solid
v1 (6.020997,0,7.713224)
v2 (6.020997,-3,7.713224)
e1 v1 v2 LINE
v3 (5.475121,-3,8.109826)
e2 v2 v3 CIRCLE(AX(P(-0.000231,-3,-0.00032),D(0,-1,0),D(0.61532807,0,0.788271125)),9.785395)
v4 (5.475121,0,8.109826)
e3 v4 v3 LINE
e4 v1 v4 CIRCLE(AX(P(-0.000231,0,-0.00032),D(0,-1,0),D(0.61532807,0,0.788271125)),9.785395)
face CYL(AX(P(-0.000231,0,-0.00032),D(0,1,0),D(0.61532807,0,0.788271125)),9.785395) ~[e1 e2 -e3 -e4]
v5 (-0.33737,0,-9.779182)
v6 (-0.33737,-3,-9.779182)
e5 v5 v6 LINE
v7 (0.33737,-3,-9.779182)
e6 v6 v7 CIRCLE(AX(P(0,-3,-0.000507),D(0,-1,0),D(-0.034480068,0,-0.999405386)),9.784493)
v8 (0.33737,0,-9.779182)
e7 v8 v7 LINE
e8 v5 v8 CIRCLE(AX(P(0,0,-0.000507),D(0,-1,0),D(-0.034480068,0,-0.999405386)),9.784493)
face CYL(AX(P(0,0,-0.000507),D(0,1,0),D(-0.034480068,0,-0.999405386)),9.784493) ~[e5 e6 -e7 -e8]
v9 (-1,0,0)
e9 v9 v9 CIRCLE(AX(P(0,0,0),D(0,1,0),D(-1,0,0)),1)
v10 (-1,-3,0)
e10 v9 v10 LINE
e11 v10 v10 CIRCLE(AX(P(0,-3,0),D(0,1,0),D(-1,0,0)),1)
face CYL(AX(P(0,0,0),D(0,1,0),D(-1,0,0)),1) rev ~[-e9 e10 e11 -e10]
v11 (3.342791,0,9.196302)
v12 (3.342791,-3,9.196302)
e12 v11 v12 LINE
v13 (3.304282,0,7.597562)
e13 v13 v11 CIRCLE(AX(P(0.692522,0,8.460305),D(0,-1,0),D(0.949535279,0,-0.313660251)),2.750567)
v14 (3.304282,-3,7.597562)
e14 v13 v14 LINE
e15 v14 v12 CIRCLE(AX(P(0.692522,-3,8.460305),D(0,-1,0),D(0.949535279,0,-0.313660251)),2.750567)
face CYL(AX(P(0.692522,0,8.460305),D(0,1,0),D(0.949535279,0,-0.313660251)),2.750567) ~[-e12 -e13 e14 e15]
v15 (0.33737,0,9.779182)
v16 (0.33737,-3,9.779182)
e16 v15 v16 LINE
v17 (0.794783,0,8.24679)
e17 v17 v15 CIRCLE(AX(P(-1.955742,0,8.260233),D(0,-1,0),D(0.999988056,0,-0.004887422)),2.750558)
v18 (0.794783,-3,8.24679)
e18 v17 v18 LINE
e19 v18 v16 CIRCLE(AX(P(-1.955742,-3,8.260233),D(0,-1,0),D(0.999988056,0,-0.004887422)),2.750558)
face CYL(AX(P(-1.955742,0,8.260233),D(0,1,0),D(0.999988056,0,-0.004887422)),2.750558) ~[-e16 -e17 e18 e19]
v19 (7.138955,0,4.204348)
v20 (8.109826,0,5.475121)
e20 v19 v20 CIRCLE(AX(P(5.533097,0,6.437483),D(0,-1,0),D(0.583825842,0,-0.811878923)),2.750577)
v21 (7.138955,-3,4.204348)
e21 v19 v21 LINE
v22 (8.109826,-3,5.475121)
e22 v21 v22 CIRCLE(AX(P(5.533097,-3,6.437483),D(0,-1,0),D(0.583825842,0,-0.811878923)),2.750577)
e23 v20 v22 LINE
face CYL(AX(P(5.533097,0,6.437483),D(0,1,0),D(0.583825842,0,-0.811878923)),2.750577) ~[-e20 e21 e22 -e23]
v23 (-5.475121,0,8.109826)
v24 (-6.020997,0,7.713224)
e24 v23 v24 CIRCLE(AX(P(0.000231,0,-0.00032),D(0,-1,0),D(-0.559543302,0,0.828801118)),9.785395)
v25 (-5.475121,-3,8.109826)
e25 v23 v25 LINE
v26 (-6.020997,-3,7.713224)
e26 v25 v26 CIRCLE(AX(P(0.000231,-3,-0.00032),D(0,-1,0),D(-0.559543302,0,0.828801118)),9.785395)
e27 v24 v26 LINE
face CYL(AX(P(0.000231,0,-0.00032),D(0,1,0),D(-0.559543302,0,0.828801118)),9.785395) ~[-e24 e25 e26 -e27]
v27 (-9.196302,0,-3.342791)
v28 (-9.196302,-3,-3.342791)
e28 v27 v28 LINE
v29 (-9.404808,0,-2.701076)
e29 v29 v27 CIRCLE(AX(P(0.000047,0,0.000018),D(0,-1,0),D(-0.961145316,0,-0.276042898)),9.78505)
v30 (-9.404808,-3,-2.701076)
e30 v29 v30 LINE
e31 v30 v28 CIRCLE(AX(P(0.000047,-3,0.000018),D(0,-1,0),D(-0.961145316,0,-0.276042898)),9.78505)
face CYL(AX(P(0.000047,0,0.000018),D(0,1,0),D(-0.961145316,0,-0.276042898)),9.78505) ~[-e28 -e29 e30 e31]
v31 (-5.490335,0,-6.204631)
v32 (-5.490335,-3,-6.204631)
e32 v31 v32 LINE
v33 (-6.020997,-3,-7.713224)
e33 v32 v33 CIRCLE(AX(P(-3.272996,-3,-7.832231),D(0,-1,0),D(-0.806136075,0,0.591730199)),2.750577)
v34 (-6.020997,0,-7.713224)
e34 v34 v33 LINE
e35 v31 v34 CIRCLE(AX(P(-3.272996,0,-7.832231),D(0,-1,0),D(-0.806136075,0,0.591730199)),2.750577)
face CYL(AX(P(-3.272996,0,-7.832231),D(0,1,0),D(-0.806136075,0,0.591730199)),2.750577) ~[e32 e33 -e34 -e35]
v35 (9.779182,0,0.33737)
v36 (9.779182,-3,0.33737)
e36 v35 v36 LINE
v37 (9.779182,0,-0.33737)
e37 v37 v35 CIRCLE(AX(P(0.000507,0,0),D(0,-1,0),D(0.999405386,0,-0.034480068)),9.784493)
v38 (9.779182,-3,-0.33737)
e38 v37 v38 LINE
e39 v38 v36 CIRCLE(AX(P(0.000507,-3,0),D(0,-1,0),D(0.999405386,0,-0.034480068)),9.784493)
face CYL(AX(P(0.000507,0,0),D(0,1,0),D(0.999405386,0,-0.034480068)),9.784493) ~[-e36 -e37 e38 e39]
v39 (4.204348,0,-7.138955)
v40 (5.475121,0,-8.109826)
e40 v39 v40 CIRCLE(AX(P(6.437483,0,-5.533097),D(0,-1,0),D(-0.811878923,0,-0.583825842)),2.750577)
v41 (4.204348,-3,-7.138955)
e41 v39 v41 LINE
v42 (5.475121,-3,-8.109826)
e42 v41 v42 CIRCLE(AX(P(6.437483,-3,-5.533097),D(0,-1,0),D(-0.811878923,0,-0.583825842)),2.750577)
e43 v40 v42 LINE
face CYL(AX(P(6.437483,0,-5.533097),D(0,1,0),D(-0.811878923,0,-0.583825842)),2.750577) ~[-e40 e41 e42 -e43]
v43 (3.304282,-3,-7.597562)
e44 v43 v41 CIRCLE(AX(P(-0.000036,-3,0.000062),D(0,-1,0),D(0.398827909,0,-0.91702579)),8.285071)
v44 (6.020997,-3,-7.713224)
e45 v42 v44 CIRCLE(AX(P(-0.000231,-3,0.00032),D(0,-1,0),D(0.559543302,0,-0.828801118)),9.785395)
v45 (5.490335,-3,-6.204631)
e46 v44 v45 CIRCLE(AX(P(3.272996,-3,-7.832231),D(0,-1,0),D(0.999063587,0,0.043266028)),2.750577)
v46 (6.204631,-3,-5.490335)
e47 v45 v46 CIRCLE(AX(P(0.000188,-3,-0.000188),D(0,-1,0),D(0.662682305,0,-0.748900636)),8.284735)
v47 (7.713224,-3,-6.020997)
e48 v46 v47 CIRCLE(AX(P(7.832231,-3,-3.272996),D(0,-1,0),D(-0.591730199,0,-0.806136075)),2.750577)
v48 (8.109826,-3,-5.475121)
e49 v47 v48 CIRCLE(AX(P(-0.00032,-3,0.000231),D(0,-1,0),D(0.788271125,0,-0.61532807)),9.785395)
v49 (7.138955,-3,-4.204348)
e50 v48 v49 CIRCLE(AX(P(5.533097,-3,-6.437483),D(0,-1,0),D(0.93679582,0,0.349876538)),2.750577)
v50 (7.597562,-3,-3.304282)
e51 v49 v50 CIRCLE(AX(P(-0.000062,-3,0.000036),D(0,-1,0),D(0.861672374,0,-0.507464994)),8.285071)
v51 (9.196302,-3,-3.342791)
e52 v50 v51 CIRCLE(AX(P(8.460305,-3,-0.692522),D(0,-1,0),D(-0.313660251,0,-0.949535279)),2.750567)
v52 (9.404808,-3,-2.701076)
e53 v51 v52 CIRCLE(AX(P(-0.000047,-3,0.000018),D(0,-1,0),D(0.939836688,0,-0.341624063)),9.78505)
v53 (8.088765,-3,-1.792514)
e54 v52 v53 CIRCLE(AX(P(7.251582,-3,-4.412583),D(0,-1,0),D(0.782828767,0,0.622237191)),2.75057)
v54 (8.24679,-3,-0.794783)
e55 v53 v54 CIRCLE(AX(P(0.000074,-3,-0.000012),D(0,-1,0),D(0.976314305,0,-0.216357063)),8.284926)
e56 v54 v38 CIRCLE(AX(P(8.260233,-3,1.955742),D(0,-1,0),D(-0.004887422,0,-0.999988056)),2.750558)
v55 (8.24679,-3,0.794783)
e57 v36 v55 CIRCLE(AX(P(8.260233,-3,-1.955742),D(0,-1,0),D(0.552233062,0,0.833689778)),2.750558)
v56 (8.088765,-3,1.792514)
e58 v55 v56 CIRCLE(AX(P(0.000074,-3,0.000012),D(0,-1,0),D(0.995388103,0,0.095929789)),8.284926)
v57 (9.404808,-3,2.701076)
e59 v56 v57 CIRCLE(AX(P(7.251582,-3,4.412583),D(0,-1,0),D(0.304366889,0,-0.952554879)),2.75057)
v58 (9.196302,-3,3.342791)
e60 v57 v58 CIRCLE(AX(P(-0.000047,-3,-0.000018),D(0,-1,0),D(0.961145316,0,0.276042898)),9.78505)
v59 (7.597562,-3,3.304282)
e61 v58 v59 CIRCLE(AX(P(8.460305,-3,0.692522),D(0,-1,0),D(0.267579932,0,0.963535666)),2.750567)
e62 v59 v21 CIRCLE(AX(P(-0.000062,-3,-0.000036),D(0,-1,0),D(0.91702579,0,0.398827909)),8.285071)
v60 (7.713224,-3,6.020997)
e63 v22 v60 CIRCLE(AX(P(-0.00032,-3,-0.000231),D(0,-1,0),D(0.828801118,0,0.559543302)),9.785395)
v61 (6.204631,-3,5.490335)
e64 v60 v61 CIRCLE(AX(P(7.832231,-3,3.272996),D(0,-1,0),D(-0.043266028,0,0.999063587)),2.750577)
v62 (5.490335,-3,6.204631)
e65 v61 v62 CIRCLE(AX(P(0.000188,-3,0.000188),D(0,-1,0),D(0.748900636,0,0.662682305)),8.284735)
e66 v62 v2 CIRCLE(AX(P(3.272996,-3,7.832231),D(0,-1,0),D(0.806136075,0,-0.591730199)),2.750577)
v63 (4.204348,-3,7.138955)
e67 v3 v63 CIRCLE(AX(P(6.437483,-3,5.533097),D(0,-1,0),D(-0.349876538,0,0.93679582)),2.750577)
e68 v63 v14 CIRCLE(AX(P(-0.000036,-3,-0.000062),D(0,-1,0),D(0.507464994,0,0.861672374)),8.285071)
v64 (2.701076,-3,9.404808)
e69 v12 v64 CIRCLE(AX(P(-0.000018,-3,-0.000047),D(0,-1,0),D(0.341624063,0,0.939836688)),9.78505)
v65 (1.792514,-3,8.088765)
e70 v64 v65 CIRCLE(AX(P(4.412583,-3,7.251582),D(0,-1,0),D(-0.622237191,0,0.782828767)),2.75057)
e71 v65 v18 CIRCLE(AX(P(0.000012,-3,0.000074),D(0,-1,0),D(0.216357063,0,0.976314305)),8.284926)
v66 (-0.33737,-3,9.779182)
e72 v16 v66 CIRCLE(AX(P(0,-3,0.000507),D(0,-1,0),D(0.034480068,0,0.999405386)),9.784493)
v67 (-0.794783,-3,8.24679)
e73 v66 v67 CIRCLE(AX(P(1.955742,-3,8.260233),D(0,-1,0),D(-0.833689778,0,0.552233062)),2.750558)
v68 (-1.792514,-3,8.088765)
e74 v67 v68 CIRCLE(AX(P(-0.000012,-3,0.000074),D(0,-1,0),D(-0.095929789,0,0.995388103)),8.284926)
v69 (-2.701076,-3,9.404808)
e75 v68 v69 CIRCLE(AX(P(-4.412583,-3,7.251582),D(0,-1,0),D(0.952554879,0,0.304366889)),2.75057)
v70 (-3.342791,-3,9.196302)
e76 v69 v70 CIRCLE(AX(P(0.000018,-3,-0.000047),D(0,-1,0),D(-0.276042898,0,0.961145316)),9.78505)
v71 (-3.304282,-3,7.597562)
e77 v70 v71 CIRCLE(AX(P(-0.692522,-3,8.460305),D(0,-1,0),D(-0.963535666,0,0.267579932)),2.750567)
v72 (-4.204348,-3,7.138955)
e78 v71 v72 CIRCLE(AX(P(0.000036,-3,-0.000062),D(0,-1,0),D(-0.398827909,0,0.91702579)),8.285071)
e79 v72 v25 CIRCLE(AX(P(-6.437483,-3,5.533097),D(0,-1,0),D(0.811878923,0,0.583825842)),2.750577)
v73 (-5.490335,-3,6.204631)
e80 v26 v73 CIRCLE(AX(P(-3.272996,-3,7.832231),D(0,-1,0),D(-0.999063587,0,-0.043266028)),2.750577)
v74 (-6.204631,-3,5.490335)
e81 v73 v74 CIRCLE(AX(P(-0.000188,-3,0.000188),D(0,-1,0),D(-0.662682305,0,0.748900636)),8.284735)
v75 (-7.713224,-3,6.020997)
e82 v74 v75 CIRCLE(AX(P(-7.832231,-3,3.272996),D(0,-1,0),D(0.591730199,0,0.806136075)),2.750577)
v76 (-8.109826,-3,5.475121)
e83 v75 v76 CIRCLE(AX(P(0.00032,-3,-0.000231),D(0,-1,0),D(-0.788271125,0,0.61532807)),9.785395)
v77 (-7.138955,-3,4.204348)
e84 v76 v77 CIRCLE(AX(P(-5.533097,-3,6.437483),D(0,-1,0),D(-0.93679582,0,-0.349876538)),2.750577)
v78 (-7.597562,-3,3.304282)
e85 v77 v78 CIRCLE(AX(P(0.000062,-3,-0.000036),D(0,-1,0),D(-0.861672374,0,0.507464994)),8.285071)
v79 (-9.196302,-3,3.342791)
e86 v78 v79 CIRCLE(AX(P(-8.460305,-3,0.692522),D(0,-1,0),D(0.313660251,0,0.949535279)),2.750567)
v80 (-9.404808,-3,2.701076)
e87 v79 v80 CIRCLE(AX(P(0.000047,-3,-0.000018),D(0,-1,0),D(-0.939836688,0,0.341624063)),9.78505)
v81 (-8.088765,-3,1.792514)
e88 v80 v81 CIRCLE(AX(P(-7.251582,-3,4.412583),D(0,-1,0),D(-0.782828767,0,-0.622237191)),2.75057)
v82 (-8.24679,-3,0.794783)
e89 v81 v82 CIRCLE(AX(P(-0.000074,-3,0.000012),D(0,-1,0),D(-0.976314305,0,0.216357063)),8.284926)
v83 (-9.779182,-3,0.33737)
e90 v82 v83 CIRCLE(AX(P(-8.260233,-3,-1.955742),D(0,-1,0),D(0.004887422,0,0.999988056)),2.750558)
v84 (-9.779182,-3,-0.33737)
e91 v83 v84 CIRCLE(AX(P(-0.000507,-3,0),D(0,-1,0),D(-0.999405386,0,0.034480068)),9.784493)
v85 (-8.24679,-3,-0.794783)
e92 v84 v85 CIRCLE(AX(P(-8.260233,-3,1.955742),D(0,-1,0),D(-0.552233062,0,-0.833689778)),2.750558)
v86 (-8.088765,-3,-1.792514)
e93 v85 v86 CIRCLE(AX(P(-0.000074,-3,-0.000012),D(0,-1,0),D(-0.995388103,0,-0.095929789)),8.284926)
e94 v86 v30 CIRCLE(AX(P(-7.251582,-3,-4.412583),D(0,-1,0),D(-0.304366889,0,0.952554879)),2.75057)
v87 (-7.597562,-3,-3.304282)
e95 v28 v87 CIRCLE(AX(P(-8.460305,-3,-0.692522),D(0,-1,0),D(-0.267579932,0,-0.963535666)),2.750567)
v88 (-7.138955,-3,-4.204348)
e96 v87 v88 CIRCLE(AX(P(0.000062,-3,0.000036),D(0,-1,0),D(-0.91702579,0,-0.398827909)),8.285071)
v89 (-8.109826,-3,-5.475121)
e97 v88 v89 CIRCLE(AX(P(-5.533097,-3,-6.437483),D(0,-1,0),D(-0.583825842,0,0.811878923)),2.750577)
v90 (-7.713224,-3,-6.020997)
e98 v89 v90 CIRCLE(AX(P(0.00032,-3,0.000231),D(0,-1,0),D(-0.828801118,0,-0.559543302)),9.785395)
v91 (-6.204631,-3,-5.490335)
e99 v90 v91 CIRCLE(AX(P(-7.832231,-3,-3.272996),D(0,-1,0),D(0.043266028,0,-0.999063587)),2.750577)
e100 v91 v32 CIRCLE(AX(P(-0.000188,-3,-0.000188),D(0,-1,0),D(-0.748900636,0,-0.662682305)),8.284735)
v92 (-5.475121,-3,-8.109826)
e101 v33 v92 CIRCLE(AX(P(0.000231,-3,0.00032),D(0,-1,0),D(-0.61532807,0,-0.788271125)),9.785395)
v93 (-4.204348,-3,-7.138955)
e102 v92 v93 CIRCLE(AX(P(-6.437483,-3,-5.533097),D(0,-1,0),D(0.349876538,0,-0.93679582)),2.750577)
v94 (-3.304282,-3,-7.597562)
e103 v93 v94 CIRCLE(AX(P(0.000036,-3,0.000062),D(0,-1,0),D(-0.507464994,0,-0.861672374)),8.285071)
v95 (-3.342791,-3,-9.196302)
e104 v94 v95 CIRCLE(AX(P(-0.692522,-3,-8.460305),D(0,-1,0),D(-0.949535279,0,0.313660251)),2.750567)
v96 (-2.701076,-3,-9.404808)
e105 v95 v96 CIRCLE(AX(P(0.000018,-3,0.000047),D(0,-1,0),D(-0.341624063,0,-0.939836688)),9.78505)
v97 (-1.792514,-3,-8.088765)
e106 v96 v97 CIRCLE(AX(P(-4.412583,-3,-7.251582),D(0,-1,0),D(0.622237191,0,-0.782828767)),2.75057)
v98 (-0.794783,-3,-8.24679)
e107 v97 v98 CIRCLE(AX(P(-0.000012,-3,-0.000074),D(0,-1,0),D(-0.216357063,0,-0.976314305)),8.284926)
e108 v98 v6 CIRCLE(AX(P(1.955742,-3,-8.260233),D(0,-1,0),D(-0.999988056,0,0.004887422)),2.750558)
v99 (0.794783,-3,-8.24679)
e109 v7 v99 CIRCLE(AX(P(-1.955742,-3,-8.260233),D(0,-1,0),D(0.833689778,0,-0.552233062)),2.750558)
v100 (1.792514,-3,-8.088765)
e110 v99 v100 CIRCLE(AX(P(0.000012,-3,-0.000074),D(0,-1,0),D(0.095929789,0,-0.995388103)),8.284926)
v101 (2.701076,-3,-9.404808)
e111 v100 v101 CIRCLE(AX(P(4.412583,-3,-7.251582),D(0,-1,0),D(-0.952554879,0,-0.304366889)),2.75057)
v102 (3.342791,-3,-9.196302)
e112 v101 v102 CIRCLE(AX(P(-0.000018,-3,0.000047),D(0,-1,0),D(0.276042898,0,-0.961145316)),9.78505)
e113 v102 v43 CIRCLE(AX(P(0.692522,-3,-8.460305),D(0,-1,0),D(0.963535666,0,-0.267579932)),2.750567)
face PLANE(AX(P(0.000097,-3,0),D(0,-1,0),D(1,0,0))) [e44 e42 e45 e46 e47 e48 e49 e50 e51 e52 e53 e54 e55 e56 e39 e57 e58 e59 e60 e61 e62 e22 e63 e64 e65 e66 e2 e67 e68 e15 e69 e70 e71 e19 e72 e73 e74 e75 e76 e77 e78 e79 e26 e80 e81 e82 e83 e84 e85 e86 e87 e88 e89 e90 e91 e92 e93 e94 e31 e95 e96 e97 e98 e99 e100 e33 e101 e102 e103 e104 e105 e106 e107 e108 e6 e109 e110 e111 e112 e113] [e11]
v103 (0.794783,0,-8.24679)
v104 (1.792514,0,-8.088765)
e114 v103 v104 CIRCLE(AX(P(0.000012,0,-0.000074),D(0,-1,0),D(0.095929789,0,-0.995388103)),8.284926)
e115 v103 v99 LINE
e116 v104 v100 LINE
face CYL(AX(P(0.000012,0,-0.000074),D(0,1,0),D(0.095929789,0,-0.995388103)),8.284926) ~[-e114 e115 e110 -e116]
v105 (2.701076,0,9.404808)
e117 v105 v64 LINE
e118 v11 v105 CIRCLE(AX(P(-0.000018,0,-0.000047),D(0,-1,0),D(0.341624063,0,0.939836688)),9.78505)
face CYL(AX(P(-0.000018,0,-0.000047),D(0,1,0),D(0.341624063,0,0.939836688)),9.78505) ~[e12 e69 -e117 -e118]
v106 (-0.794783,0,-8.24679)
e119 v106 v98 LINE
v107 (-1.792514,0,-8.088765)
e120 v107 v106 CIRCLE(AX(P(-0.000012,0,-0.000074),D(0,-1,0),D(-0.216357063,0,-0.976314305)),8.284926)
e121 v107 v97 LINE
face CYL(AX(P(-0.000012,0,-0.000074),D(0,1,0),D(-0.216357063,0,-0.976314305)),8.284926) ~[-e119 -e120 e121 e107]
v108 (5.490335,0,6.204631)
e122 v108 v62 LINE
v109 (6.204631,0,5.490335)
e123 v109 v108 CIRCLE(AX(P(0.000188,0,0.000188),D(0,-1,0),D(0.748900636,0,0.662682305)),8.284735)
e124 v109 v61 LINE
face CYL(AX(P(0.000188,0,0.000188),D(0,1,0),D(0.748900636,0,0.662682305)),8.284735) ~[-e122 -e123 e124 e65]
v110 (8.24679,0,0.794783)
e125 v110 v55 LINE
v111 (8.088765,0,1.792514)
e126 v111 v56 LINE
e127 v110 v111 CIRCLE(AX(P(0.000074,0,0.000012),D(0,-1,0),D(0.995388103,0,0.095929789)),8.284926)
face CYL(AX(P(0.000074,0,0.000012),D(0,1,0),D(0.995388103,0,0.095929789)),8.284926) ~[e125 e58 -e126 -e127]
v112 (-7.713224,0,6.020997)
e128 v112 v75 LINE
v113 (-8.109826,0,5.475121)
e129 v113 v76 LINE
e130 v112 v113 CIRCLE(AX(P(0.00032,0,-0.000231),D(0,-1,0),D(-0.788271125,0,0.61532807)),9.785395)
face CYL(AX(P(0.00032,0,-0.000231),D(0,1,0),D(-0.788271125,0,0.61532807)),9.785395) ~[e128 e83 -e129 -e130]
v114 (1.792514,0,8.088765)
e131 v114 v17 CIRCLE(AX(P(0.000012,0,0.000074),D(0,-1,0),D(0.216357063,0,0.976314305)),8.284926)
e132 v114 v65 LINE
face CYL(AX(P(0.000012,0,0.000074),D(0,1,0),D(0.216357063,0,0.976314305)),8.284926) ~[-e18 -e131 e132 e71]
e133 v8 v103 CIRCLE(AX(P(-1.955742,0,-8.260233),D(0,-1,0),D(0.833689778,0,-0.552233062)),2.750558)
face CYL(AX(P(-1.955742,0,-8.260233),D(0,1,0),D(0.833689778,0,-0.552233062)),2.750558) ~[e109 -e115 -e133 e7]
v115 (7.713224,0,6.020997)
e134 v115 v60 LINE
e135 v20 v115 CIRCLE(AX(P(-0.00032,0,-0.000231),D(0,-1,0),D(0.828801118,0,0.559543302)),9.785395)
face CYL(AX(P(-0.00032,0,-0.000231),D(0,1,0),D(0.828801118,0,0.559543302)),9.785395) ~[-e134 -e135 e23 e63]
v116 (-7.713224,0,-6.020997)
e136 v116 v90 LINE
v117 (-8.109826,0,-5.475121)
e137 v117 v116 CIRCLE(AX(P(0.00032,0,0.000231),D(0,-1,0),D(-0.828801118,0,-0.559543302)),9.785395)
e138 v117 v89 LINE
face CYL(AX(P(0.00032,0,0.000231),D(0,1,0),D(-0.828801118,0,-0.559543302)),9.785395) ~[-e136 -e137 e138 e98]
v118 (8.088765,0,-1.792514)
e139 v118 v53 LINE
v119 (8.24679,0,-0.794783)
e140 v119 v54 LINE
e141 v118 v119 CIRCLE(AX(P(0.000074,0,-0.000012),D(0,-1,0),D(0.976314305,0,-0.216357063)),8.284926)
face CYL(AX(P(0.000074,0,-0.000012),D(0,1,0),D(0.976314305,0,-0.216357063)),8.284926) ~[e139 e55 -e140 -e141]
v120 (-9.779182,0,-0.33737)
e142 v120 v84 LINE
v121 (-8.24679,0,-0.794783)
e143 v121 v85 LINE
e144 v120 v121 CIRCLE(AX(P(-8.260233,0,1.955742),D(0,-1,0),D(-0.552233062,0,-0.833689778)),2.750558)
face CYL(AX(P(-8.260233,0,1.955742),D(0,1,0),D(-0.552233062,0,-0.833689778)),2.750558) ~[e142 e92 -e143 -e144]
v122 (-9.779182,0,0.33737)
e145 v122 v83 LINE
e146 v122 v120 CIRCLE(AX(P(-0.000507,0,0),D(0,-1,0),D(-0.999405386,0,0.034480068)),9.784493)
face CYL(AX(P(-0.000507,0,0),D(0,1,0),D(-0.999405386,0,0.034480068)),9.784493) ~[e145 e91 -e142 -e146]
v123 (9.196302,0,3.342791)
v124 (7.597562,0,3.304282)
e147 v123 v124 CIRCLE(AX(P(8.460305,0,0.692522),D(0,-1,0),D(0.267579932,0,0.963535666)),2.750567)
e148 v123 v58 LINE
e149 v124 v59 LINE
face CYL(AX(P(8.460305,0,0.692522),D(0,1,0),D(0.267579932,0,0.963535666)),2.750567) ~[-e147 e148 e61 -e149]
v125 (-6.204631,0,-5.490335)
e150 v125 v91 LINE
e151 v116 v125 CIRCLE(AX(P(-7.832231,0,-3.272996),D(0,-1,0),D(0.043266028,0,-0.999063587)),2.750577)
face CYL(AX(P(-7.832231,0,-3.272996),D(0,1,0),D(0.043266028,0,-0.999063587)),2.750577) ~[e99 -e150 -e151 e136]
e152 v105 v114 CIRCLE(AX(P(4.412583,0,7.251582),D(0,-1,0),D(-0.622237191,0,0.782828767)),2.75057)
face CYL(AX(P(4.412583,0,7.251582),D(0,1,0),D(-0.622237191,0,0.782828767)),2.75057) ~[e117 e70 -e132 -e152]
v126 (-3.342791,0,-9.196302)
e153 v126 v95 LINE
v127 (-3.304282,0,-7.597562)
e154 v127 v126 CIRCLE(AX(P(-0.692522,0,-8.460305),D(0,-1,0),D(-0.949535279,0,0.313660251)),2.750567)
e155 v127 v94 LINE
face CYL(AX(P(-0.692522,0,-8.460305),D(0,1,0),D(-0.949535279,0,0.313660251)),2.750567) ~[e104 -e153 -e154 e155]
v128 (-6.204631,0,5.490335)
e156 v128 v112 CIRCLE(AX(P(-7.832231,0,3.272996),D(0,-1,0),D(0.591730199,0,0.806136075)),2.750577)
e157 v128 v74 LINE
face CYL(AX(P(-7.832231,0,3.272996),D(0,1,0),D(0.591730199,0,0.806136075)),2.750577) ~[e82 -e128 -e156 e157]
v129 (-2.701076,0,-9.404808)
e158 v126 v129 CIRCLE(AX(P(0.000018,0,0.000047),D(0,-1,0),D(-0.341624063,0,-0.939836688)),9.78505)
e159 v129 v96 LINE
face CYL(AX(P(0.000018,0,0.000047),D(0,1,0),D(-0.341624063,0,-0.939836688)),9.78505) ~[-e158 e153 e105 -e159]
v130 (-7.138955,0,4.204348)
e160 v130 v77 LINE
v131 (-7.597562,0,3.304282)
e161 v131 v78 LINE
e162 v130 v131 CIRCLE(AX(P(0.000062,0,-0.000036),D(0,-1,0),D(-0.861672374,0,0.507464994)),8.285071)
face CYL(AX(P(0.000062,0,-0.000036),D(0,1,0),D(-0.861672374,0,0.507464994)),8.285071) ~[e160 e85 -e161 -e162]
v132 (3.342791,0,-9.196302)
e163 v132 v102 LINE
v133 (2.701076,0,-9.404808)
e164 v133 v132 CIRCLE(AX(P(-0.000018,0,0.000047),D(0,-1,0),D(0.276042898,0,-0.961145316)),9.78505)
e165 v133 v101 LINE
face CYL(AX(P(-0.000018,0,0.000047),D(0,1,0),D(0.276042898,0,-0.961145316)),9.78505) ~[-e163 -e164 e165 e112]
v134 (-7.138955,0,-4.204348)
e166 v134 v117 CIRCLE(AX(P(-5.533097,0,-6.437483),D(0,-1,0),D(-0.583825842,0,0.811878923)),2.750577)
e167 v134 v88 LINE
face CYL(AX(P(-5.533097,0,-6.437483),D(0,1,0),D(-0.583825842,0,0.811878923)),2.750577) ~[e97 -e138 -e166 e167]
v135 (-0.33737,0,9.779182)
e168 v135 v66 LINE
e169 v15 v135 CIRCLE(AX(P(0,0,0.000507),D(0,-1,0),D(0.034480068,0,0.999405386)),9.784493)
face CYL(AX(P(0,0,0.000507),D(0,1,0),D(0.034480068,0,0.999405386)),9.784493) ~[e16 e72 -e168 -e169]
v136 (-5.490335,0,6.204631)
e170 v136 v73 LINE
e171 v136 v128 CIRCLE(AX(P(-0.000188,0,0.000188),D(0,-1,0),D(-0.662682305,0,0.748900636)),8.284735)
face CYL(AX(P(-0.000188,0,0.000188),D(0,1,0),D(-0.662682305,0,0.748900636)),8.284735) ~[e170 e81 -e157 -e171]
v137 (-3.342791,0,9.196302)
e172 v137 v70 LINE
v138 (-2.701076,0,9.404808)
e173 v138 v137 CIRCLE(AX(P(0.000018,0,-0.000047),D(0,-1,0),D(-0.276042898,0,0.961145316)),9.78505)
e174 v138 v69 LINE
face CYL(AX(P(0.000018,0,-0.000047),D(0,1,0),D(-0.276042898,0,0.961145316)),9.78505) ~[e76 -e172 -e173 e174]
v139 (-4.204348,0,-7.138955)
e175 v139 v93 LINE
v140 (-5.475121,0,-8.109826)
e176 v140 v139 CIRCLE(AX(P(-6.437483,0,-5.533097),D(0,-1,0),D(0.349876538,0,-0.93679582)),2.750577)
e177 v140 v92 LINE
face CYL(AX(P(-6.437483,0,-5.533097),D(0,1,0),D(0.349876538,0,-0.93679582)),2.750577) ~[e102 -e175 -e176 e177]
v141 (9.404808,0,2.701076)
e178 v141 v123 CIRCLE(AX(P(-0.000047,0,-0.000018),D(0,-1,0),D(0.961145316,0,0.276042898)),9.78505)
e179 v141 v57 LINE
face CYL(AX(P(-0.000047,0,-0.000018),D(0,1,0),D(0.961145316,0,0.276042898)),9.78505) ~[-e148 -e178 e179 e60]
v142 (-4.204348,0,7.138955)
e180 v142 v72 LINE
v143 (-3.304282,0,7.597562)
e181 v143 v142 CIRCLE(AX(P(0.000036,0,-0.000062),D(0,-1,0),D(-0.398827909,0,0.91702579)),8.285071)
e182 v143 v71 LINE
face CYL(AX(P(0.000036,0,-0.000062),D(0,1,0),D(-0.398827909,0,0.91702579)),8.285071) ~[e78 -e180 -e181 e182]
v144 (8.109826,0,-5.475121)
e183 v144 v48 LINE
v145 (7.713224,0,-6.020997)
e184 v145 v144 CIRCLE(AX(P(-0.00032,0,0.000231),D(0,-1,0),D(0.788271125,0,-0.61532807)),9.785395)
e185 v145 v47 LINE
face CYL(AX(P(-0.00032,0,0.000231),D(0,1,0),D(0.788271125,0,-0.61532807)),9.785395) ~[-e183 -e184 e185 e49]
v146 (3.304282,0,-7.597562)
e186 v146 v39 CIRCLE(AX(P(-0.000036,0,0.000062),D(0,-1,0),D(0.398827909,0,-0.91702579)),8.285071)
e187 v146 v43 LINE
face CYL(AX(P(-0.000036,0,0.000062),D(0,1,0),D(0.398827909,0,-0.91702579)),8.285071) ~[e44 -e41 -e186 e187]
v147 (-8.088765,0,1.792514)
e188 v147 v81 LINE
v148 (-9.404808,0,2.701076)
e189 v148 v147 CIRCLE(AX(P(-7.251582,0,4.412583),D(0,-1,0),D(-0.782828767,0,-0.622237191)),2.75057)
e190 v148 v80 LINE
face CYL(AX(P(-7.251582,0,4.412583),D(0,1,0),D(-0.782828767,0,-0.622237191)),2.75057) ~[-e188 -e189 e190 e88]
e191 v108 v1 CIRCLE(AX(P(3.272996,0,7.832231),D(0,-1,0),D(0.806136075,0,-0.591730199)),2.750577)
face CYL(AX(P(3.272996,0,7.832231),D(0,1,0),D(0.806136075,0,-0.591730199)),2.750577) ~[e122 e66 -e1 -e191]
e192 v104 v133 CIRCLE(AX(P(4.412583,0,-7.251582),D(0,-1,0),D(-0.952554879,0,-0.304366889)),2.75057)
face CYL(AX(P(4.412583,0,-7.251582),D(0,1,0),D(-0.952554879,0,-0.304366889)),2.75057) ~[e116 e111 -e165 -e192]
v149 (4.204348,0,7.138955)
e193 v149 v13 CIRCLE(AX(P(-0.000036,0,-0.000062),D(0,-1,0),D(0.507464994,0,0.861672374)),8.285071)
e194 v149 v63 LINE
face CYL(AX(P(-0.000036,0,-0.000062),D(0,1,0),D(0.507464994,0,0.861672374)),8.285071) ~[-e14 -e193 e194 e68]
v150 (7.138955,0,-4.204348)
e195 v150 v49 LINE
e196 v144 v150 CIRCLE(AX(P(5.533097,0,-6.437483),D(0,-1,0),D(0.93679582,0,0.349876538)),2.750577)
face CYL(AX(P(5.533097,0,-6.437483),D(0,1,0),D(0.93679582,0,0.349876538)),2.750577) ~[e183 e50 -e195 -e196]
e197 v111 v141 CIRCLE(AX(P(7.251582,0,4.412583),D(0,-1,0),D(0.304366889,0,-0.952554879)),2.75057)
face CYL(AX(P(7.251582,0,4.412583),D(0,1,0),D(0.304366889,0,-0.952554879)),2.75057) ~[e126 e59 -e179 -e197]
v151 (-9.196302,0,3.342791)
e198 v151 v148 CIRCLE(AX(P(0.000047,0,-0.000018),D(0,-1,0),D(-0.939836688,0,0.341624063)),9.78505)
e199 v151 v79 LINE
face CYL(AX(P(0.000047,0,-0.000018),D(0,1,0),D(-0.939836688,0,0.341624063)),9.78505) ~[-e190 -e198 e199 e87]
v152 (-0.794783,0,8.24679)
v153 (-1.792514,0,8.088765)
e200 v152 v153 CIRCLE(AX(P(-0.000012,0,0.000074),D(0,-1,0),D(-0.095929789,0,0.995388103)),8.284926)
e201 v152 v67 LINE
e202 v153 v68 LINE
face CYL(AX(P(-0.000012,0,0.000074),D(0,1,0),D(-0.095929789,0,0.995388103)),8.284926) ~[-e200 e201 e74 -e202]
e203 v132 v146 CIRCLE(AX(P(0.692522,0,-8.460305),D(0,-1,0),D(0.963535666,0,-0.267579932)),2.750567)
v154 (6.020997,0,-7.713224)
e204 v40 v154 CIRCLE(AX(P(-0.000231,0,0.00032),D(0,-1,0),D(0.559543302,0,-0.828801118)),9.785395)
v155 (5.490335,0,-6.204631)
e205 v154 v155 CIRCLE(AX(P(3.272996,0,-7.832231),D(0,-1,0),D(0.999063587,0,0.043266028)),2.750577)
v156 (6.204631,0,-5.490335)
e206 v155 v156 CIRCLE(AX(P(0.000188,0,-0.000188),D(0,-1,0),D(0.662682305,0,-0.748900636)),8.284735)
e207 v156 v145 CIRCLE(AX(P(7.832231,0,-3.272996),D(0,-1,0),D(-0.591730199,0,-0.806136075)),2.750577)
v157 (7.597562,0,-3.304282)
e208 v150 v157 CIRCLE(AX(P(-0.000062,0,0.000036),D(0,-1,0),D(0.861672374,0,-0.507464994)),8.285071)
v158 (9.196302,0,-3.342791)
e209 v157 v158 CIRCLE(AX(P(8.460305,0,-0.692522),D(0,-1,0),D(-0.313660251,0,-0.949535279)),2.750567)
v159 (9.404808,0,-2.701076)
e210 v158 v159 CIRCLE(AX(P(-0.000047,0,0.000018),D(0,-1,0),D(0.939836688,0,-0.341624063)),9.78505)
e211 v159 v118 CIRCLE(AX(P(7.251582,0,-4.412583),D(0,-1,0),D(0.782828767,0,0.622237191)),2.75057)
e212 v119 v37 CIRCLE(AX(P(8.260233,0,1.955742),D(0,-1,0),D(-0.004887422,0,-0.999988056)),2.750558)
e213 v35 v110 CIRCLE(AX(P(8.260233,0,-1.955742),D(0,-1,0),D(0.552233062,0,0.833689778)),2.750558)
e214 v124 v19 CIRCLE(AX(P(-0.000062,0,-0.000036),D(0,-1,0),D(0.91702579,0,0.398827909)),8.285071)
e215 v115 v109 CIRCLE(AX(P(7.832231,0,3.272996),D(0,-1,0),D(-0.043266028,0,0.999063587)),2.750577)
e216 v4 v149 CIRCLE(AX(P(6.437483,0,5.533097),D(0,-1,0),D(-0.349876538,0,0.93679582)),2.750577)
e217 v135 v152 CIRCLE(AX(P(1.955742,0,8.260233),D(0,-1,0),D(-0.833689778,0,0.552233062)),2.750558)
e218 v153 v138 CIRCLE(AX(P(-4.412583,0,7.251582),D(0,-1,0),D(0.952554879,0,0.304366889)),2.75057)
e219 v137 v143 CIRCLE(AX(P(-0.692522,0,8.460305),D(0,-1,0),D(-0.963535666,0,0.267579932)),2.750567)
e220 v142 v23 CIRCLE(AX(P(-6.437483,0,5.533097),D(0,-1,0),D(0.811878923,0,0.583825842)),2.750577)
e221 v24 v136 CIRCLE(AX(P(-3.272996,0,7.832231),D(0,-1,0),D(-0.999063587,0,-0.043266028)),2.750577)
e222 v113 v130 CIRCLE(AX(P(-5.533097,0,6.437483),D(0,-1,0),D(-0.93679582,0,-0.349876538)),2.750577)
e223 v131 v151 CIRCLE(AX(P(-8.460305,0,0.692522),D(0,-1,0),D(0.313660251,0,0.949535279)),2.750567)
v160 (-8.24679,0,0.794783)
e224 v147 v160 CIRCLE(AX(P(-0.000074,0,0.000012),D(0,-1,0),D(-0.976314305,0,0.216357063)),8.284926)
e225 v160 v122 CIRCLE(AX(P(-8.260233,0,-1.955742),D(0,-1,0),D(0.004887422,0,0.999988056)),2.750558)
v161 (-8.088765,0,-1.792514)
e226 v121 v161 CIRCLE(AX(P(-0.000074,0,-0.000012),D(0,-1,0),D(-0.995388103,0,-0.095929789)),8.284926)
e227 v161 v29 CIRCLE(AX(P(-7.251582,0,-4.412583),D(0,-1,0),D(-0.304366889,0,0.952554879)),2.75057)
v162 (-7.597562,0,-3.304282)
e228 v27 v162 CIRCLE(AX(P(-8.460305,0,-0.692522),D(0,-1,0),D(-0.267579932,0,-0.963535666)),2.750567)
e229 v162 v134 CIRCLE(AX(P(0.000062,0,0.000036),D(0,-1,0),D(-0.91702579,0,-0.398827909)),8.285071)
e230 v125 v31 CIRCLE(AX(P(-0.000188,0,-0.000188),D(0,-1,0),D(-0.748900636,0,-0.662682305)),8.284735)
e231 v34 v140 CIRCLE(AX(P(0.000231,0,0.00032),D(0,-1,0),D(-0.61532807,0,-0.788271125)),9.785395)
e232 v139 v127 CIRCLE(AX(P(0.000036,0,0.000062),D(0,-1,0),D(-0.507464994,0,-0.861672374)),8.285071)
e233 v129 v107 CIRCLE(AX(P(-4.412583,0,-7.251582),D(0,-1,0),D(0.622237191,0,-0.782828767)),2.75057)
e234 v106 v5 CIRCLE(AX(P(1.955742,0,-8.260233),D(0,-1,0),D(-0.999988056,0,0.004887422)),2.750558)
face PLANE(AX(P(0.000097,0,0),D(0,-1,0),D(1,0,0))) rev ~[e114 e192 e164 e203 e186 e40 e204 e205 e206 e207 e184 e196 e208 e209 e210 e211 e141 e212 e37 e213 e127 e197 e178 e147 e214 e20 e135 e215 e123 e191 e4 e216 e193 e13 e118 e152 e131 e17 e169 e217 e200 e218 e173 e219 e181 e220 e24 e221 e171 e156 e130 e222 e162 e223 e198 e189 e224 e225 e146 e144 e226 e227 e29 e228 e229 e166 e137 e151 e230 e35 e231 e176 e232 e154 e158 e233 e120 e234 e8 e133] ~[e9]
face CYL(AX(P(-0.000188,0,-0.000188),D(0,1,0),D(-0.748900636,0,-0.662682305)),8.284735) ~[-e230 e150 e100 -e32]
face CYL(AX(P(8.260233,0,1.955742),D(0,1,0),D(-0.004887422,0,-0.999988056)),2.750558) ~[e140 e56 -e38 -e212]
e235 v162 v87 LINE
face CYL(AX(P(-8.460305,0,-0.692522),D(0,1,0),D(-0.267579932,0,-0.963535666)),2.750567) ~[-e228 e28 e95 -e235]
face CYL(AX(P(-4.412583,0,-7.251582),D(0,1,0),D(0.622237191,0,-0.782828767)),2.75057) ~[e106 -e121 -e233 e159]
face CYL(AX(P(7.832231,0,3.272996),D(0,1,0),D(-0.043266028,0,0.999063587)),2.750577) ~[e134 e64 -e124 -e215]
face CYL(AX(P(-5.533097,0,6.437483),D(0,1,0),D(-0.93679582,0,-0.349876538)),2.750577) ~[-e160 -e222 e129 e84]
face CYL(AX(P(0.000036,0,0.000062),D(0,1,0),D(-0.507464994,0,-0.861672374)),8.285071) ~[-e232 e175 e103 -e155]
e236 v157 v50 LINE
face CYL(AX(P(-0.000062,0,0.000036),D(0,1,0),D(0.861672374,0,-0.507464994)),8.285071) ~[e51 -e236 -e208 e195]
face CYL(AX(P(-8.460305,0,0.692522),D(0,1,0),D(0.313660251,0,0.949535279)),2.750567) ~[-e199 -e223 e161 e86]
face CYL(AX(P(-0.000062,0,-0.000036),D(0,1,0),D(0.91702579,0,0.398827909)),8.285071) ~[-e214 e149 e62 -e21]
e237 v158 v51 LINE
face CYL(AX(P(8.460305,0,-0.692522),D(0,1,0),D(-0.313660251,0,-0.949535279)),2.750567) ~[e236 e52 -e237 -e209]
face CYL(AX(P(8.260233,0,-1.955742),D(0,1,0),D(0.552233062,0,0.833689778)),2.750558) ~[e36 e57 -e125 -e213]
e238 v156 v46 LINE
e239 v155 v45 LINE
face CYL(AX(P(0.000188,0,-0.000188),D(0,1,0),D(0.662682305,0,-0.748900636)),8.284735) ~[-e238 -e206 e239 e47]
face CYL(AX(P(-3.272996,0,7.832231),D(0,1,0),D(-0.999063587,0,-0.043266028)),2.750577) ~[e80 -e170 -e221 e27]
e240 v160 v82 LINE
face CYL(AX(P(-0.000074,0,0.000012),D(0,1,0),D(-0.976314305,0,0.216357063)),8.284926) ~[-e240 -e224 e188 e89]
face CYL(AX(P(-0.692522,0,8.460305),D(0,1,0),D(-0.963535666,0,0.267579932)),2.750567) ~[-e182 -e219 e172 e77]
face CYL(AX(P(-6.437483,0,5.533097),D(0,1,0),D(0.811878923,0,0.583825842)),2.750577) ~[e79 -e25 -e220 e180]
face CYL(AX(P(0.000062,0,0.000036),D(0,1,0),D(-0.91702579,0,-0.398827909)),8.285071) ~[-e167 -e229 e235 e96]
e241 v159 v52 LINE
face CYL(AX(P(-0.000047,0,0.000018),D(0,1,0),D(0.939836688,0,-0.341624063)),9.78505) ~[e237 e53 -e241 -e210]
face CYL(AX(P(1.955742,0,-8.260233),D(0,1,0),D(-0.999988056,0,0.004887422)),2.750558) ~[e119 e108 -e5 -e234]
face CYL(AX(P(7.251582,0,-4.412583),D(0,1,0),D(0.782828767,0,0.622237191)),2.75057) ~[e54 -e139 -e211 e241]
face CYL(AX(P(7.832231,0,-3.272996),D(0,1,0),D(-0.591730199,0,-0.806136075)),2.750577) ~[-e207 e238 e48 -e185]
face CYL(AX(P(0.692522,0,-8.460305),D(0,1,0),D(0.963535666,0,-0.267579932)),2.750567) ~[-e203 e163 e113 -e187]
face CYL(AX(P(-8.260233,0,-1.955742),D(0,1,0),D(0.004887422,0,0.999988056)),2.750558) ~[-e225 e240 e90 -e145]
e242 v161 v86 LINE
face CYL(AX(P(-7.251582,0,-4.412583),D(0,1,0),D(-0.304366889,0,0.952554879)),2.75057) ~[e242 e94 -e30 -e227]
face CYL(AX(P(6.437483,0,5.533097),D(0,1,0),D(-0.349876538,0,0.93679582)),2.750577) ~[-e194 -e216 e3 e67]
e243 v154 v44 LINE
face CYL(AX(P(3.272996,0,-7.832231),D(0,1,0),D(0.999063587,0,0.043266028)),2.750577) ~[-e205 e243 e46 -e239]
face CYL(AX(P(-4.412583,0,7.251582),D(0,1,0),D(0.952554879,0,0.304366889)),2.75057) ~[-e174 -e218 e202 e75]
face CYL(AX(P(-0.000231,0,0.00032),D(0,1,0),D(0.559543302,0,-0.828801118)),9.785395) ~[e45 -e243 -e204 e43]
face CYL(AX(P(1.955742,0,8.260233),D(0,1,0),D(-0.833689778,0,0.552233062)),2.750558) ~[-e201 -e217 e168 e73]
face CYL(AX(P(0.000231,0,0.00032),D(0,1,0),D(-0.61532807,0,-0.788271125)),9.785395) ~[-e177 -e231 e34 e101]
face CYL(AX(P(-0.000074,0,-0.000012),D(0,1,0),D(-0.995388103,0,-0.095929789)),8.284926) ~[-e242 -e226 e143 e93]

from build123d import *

# Parameters (mm, degrees)
F1_DEPTH = 3
F2_R     = 1
F3_DEPTH = 3.001


with BuildPart() as f1:
    # F0 (on Front) → F1 (new body)
    with BuildSketch(Plane.XZ):
        with BuildLine():
            ThreePointArc((8.24679, -0.794783), (8.275442, -0.397851), (8.285, 0))
            ThreePointArc((8.285, 0), (8.275442, 0.397851), (8.24679, 0.794783))
            ThreePointArc((8.24679, 0.794783), (8.182998, 1.29606), (8.088765, 1.792514))
            ThreePointArc((8.088765, 1.792514), (7.879503, 2.560206), (7.597562, 3.304282))
            ThreePointArc((7.597562, 3.304282), (7.381989, 3.761311), (7.138955, 4.204348))
            ThreePointArc((7.138955, 4.204348), (6.702706, 4.869801), (6.204631, 5.490335))
            ThreePointArc((6.204631, 5.490335), (5.85838, 5.85838), (5.490335, 6.204631))
            ThreePointArc((5.490335, 6.204631), (4.869801, 6.702706), (4.204348, 7.138955))
            ThreePointArc((4.204348, 7.138955), (3.761311, 7.381989), (3.304282, 7.597562))
            ThreePointArc((3.304282, 7.597562), (2.560206, 7.879503), (1.792514, 8.088765))
            ThreePointArc((1.792514, 8.088765), (1.29606, 8.182998), (0.794783, 8.24679))
            ThreePointArc((0.794783, 8.24679), (0, 8.285), (-0.794783, 8.24679))
            ThreePointArc((-0.794783, 8.24679), (-1.29606, 8.182998), (-1.792514, 8.088765))
            ThreePointArc((-1.792514, 8.088765), (-2.560206, 7.879503), (-3.304282, 7.597562))
            ThreePointArc((-3.304282, 7.597562), (-3.761311, 7.381989), (-4.204348, 7.138955))
            ThreePointArc((-4.204348, 7.138955), (-4.869801, 6.702706), (-5.490335, 6.204631))
            ThreePointArc((-5.490335, 6.204631), (-5.85838, 5.85838), (-6.204631, 5.490335))
            ThreePointArc((-6.204631, 5.490335), (-6.702706, 4.869801), (-7.138955, 4.204348))
            ThreePointArc((-7.138955, 4.204348), (-7.381989, 3.761311), (-7.597562, 3.304282))
            ThreePointArc((-7.597562, 3.304282), (-7.879503, 2.560206), (-8.088765, 1.792514))
            ThreePointArc((-8.088765, 1.792514), (-8.182998, 1.29606), (-8.24679, 0.794783))
            ThreePointArc((-8.24679, 0.794783), (-8.285, 0), (-8.24679, -0.794783))
            ThreePointArc((-8.24679, -0.794783), (-8.182998, -1.29606), (-8.088765, -1.792514))
            ThreePointArc((-8.088765, -1.792514), (-7.879503, -2.560206), (-7.597562, -3.304282))
            ThreePointArc((-7.597562, -3.304282), (-7.381989, -3.761311), (-7.138955, -4.204348))
            ThreePointArc((-7.138955, -4.204348), (-6.702706, -4.869801), (-6.204631, -5.490335))
            ThreePointArc((-6.204631, -5.490335), (-5.85838, -5.85838), (-5.490335, -6.204631))
            ThreePointArc((-5.490335, -6.204631), (-4.869801, -6.702706), (-4.204348, -7.138955))
            ThreePointArc((-4.204348, -7.138955), (-3.761311, -7.381989), (-3.304282, -7.597562))
            ThreePointArc((-3.304282, -7.597562), (-2.560206, -7.879503), (-1.792514, -8.088765))
            ThreePointArc((-1.792514, -8.088765), (-1.29606, -8.182998), (-0.794783, -8.24679))
            ThreePointArc((-0.794783, -8.24679), (0, -8.285), (0.794783, -8.24679))
            ThreePointArc((0.794783, -8.24679), (1.29606, -8.182998), (1.792514, -8.088765))
            ThreePointArc((1.792514, -8.088765), (2.560206, -7.879503), (3.304282, -7.597562))
            ThreePointArc((3.304282, -7.597562), (3.761311, -7.381989), (4.204348, -7.138955))
            ThreePointArc((4.204348, -7.138955), (4.869801, -6.702706), (5.490335, -6.204631))
            ThreePointArc((5.490335, -6.204631), (5.85838, -5.85838), (6.204631, -5.490335))
            ThreePointArc((6.204631, -5.490335), (6.702706, -4.869801), (7.138955, -4.204348))
            ThreePointArc((7.138955, -4.204348), (7.381989, -3.761311), (7.597562, -3.304282))
            ThreePointArc((7.597562, -3.304282), (7.879503, -2.560206), (8.088765, -1.792514))
            ThreePointArc((8.088765, -1.792514), (8.182998, -1.29606), (8.24679, -0.794783))
        make_face()
        with BuildLine():
            ThreePointArc((8.24679, 0.794783), (8.275442, 0.397851), (8.285, 0))
            ThreePointArc((8.285, 0), (8.275442, -0.397851), (8.24679, -0.794783))
            ThreePointArc((8.24679, -0.794783), (9.046963, -0.679903), (9.779182, -0.33737))
            ThreePointArc((9.779182, -0.33737), (9.785, 0), (9.779182, 0.33737))
            ThreePointArc((9.779182, 0.33737), (9.046963, 0.679903), (8.24679, 0.794783))
        make_face()
        with BuildLine():
            ThreePointArc((7.597562, 3.304282), (7.879503, 2.560206), (8.088765, 1.792514))
            ThreePointArc((8.088765, 1.792514), (8.814274, 2.149039), (9.404808, 2.701076))
            ThreePointArc((9.404808, 2.701076), (9.306088, 3.023731), (9.196302, 3.342791))
            ThreePointArc((9.196302, 3.342791), (8.394071, 3.442291), (7.597562, 3.304282))
        make_face()
        with BuildLine():
            ThreePointArc((9.404808, -2.701076), (8.814274, -2.149039), (8.088765, -1.792514))
            ThreePointArc((8.088765, -1.792514), (7.879503, -2.560206), (7.597562, -3.304282))
            ThreePointArc((7.597562, -3.304282), (8.394071, -3.442291), (9.196302, -3.342791))
            ThreePointArc((9.196302, -3.342791), (9.306088, -3.023731), (9.404808, -2.701076))
        make_face()
        with BuildLine():
            ThreePointArc((6.204631, 5.490335), (6.702706, 4.869801), (7.138955, 4.204348))
            ThreePointArc((7.138955, 4.204348), (7.718783, 4.767618), (8.109826, 5.475121))
            ThreePointArc((8.109826, 5.475121), (7.916231, 5.751479), (7.713224, 6.020997))
            ThreePointArc((7.713224, 6.020997), (6.91951, 5.867724), (6.204631, 5.490335))
        make_face()
        with BuildLine():
            ThreePointArc((8.109826, -5.475121), (7.718783, -4.767618), (7.138955, -4.204348))
            ThreePointArc((7.138955, -4.204348), (6.702706, -4.869801), (6.204631, -5.490335))
            ThreePointArc((6.204631, -5.490335), (6.91951, -5.867724), (7.713224, -6.020997))
            ThreePointArc((7.713224, -6.020997), (7.916231, -5.751479), (8.109826, -5.475121))
        make_face()
        with BuildLine():
            ThreePointArc((4.204348, 7.138955), (4.869801, 6.702706), (5.490335, 6.204631))
            ThreePointArc((5.490335, 6.204631), (5.867724, 6.91951), (6.020997, 7.713224))
            ThreePointArc((6.020997, 7.713224), (5.751479, 7.916231), (5.475121, 8.109826))
            ThreePointArc((5.475121, 8.109826), (4.767618, 7.718783), (4.204348, 7.138955))
        make_face()
        with BuildLine():
            ThreePointArc((6.020997, -7.713224), (5.867724, -6.91951), (5.490335, -6.204631))
            ThreePointArc((5.490335, -6.204631), (4.869801, -6.702706), (4.204348, -7.138955))
            ThreePointArc((4.204348, -7.138955), (4.767618, -7.718783), (5.475121, -8.109826))
            ThreePointArc((5.475121, -8.109826), (5.751479, -7.916231), (6.020997, -7.713224))
        make_face()
        with BuildLine():
            ThreePointArc((1.792514, 8.088765), (2.560206, 7.879503), (3.304282, 7.597562))
            ThreePointArc((3.304282, 7.597562), (3.442291, 8.394071), (3.342791, 9.196302))
            ThreePointArc((3.342791, 9.196302), (3.023731, 9.306088), (2.701076, 9.404808))
            ThreePointArc((2.701076, 9.404808), (2.149039, 8.814274), (1.792514, 8.088765))
        make_face()
        with BuildLine():
            ThreePointArc((3.342791, -9.196302), (3.442291, -8.394071), (3.304282, -7.597562))
            ThreePointArc((3.304282, -7.597562), (2.560206, -7.879503), (1.792514, -8.088765))
            ThreePointArc((1.792514, -8.088765), (2.149039, -8.814274), (2.701076, -9.404808))
            ThreePointArc((2.701076, -9.404808), (3.023731, -9.306088), (3.342791, -9.196302))
        make_face()
        with BuildLine():
            ThreePointArc((-0.794783, 8.24679), (0, 8.285), (0.794783, 8.24679))
            ThreePointArc((0.794783, 8.24679), (0.679903, 9.046963), (0.33737, 9.779182))
            ThreePointArc((0.33737, 9.779182), (0, 9.785), (-0.33737, 9.779182))
            ThreePointArc((-0.33737, 9.779182), (-0.679903, 9.046963), (-0.794783, 8.24679))
        make_face()
        with BuildLine():
            ThreePointArc((0.33737, -9.779182), (0.679903, -9.046963), (0.794783, -8.24679))
            ThreePointArc((0.794783, -8.24679), (0, -8.285), (-0.794783, -8.24679))
            ThreePointArc((-0.794783, -8.24679), (-0.679903, -9.046963), (-0.33737, -9.779182))
            ThreePointArc((-0.33737, -9.779182), (0, -9.785), (0.33737, -9.779182))
        make_face()
        with BuildLine():
            ThreePointArc((-3.304282, 7.597562), (-2.560206, 7.879503), (-1.792514, 8.088765))
            ThreePointArc((-1.792514, 8.088765), (-2.149039, 8.814274), (-2.701076, 9.404808))
            ThreePointArc((-2.701076, 9.404808), (-3.023731, 9.306088), (-3.342791, 9.196302))
            ThreePointArc((-3.342791, 9.196302), (-3.442291, 8.394071), (-3.304282, 7.597562))
        make_face()
        with BuildLine():
            ThreePointArc((-2.701076, -9.404808), (-2.149039, -8.814274), (-1.792514, -8.088765))
            ThreePointArc((-1.792514, -8.088765), (-2.560206, -7.879503), (-3.304282, -7.597562))
            ThreePointArc((-3.304282, -7.597562), (-3.442291, -8.394071), (-3.342791, -9.196302))
            ThreePointArc((-3.342791, -9.196302), (-3.023731, -9.306088), (-2.701076, -9.404808))
        make_face()
        with BuildLine():
            ThreePointArc((-5.490335, 6.204631), (-4.869801, 6.702706), (-4.204348, 7.138955))
            ThreePointArc((-4.204348, 7.138955), (-4.767618, 7.718783), (-5.475121, 8.109826))
            ThreePointArc((-5.475121, 8.109826), (-5.751479, 7.916231), (-6.020997, 7.713224))
            ThreePointArc((-6.020997, 7.713224), (-5.867724, 6.91951), (-5.490335, 6.204631))
        make_face()
        with BuildLine():
            ThreePointArc((-5.475121, -8.109826), (-4.767618, -7.718783), (-4.204348, -7.138955))
            ThreePointArc((-4.204348, -7.138955), (-4.869801, -6.702706), (-5.490335, -6.204631))
            ThreePointArc((-5.490335, -6.204631), (-5.867724, -6.91951), (-6.020997, -7.713224))
            ThreePointArc((-6.020997, -7.713224), (-5.751479, -7.916231), (-5.475121, -8.109826))
        make_face()
        with BuildLine():
            ThreePointArc((-7.138955, 4.204348), (-6.702706, 4.869801), (-6.204631, 5.490335))
            ThreePointArc((-6.204631, 5.490335), (-6.91951, 5.867724), (-7.713224, 6.020997))
            ThreePointArc((-7.713224, 6.020997), (-7.916231, 5.751479), (-8.109826, 5.475121))
            ThreePointArc((-8.109826, 5.475121), (-7.718783, 4.767618), (-7.138955, 4.204348))
        make_face()
        with BuildLine():
            ThreePointArc((-7.713224, -6.020997), (-6.91951, -5.867724), (-6.204631, -5.490335))
            ThreePointArc((-6.204631, -5.490335), (-6.702706, -4.869801), (-7.138955, -4.204348))
            ThreePointArc((-7.138955, -4.204348), (-7.718783, -4.767618), (-8.109826, -5.475121))
            ThreePointArc((-8.109826, -5.475121), (-7.916231, -5.751479), (-7.713224, -6.020997))
        make_face()
        with BuildLine():
            ThreePointArc((-8.088765, 1.792514), (-7.879503, 2.560206), (-7.597562, 3.304282))
            ThreePointArc((-7.597562, 3.304282), (-8.394071, 3.442291), (-9.196302, 3.342791))
            ThreePointArc((-9.196302, 3.342791), (-9.306088, 3.023731), (-9.404808, 2.701076))
            ThreePointArc((-9.404808, 2.701076), (-8.814274, 2.149039), (-8.088765, 1.792514))
        make_face()
        with BuildLine():
            ThreePointArc((-9.196302, -3.342791), (-8.394071, -3.442291), (-7.597562, -3.304282))
            ThreePointArc((-7.597562, -3.304282), (-7.879503, -2.560206), (-8.088765, -1.792514))
            ThreePointArc((-8.088765, -1.792514), (-8.814274, -2.149039), (-9.404808, -2.701076))
            ThreePointArc((-9.404808, -2.701076), (-9.306088, -3.023731), (-9.196302, -3.342791))
        make_face()
        with BuildLine():
            ThreePointArc((-8.24679, -0.794783), (-8.285, 0), (-8.24679, 0.794783))
            ThreePointArc((-8.24679, 0.794783), (-9.046963, 0.679903), (-9.779182, 0.33737))
            ThreePointArc((-9.779182, 0.33737), (-9.785, 0), (-9.779182, -0.33737))
            ThreePointArc((-9.779182, -0.33737), (-9.046963, -0.679903), (-8.24679, -0.794783))
        make_face()
    extrude(amount=F1_DEPTH)

    # F2 (on face) → F3 (cut, through all)
    with BuildSketch(Plane(origin=(0, 0, 0), x_dir=(-1, 0, 0), z_dir=(0, 1, 0))):
        Circle(F2_R)
    extrude(amount=-F3_DEPTH, mode=Mode.SUBTRACT)


with BuildPart() as f4_1:
    # F4: copy of F1
    add(f1.part)


solid = f1.part
